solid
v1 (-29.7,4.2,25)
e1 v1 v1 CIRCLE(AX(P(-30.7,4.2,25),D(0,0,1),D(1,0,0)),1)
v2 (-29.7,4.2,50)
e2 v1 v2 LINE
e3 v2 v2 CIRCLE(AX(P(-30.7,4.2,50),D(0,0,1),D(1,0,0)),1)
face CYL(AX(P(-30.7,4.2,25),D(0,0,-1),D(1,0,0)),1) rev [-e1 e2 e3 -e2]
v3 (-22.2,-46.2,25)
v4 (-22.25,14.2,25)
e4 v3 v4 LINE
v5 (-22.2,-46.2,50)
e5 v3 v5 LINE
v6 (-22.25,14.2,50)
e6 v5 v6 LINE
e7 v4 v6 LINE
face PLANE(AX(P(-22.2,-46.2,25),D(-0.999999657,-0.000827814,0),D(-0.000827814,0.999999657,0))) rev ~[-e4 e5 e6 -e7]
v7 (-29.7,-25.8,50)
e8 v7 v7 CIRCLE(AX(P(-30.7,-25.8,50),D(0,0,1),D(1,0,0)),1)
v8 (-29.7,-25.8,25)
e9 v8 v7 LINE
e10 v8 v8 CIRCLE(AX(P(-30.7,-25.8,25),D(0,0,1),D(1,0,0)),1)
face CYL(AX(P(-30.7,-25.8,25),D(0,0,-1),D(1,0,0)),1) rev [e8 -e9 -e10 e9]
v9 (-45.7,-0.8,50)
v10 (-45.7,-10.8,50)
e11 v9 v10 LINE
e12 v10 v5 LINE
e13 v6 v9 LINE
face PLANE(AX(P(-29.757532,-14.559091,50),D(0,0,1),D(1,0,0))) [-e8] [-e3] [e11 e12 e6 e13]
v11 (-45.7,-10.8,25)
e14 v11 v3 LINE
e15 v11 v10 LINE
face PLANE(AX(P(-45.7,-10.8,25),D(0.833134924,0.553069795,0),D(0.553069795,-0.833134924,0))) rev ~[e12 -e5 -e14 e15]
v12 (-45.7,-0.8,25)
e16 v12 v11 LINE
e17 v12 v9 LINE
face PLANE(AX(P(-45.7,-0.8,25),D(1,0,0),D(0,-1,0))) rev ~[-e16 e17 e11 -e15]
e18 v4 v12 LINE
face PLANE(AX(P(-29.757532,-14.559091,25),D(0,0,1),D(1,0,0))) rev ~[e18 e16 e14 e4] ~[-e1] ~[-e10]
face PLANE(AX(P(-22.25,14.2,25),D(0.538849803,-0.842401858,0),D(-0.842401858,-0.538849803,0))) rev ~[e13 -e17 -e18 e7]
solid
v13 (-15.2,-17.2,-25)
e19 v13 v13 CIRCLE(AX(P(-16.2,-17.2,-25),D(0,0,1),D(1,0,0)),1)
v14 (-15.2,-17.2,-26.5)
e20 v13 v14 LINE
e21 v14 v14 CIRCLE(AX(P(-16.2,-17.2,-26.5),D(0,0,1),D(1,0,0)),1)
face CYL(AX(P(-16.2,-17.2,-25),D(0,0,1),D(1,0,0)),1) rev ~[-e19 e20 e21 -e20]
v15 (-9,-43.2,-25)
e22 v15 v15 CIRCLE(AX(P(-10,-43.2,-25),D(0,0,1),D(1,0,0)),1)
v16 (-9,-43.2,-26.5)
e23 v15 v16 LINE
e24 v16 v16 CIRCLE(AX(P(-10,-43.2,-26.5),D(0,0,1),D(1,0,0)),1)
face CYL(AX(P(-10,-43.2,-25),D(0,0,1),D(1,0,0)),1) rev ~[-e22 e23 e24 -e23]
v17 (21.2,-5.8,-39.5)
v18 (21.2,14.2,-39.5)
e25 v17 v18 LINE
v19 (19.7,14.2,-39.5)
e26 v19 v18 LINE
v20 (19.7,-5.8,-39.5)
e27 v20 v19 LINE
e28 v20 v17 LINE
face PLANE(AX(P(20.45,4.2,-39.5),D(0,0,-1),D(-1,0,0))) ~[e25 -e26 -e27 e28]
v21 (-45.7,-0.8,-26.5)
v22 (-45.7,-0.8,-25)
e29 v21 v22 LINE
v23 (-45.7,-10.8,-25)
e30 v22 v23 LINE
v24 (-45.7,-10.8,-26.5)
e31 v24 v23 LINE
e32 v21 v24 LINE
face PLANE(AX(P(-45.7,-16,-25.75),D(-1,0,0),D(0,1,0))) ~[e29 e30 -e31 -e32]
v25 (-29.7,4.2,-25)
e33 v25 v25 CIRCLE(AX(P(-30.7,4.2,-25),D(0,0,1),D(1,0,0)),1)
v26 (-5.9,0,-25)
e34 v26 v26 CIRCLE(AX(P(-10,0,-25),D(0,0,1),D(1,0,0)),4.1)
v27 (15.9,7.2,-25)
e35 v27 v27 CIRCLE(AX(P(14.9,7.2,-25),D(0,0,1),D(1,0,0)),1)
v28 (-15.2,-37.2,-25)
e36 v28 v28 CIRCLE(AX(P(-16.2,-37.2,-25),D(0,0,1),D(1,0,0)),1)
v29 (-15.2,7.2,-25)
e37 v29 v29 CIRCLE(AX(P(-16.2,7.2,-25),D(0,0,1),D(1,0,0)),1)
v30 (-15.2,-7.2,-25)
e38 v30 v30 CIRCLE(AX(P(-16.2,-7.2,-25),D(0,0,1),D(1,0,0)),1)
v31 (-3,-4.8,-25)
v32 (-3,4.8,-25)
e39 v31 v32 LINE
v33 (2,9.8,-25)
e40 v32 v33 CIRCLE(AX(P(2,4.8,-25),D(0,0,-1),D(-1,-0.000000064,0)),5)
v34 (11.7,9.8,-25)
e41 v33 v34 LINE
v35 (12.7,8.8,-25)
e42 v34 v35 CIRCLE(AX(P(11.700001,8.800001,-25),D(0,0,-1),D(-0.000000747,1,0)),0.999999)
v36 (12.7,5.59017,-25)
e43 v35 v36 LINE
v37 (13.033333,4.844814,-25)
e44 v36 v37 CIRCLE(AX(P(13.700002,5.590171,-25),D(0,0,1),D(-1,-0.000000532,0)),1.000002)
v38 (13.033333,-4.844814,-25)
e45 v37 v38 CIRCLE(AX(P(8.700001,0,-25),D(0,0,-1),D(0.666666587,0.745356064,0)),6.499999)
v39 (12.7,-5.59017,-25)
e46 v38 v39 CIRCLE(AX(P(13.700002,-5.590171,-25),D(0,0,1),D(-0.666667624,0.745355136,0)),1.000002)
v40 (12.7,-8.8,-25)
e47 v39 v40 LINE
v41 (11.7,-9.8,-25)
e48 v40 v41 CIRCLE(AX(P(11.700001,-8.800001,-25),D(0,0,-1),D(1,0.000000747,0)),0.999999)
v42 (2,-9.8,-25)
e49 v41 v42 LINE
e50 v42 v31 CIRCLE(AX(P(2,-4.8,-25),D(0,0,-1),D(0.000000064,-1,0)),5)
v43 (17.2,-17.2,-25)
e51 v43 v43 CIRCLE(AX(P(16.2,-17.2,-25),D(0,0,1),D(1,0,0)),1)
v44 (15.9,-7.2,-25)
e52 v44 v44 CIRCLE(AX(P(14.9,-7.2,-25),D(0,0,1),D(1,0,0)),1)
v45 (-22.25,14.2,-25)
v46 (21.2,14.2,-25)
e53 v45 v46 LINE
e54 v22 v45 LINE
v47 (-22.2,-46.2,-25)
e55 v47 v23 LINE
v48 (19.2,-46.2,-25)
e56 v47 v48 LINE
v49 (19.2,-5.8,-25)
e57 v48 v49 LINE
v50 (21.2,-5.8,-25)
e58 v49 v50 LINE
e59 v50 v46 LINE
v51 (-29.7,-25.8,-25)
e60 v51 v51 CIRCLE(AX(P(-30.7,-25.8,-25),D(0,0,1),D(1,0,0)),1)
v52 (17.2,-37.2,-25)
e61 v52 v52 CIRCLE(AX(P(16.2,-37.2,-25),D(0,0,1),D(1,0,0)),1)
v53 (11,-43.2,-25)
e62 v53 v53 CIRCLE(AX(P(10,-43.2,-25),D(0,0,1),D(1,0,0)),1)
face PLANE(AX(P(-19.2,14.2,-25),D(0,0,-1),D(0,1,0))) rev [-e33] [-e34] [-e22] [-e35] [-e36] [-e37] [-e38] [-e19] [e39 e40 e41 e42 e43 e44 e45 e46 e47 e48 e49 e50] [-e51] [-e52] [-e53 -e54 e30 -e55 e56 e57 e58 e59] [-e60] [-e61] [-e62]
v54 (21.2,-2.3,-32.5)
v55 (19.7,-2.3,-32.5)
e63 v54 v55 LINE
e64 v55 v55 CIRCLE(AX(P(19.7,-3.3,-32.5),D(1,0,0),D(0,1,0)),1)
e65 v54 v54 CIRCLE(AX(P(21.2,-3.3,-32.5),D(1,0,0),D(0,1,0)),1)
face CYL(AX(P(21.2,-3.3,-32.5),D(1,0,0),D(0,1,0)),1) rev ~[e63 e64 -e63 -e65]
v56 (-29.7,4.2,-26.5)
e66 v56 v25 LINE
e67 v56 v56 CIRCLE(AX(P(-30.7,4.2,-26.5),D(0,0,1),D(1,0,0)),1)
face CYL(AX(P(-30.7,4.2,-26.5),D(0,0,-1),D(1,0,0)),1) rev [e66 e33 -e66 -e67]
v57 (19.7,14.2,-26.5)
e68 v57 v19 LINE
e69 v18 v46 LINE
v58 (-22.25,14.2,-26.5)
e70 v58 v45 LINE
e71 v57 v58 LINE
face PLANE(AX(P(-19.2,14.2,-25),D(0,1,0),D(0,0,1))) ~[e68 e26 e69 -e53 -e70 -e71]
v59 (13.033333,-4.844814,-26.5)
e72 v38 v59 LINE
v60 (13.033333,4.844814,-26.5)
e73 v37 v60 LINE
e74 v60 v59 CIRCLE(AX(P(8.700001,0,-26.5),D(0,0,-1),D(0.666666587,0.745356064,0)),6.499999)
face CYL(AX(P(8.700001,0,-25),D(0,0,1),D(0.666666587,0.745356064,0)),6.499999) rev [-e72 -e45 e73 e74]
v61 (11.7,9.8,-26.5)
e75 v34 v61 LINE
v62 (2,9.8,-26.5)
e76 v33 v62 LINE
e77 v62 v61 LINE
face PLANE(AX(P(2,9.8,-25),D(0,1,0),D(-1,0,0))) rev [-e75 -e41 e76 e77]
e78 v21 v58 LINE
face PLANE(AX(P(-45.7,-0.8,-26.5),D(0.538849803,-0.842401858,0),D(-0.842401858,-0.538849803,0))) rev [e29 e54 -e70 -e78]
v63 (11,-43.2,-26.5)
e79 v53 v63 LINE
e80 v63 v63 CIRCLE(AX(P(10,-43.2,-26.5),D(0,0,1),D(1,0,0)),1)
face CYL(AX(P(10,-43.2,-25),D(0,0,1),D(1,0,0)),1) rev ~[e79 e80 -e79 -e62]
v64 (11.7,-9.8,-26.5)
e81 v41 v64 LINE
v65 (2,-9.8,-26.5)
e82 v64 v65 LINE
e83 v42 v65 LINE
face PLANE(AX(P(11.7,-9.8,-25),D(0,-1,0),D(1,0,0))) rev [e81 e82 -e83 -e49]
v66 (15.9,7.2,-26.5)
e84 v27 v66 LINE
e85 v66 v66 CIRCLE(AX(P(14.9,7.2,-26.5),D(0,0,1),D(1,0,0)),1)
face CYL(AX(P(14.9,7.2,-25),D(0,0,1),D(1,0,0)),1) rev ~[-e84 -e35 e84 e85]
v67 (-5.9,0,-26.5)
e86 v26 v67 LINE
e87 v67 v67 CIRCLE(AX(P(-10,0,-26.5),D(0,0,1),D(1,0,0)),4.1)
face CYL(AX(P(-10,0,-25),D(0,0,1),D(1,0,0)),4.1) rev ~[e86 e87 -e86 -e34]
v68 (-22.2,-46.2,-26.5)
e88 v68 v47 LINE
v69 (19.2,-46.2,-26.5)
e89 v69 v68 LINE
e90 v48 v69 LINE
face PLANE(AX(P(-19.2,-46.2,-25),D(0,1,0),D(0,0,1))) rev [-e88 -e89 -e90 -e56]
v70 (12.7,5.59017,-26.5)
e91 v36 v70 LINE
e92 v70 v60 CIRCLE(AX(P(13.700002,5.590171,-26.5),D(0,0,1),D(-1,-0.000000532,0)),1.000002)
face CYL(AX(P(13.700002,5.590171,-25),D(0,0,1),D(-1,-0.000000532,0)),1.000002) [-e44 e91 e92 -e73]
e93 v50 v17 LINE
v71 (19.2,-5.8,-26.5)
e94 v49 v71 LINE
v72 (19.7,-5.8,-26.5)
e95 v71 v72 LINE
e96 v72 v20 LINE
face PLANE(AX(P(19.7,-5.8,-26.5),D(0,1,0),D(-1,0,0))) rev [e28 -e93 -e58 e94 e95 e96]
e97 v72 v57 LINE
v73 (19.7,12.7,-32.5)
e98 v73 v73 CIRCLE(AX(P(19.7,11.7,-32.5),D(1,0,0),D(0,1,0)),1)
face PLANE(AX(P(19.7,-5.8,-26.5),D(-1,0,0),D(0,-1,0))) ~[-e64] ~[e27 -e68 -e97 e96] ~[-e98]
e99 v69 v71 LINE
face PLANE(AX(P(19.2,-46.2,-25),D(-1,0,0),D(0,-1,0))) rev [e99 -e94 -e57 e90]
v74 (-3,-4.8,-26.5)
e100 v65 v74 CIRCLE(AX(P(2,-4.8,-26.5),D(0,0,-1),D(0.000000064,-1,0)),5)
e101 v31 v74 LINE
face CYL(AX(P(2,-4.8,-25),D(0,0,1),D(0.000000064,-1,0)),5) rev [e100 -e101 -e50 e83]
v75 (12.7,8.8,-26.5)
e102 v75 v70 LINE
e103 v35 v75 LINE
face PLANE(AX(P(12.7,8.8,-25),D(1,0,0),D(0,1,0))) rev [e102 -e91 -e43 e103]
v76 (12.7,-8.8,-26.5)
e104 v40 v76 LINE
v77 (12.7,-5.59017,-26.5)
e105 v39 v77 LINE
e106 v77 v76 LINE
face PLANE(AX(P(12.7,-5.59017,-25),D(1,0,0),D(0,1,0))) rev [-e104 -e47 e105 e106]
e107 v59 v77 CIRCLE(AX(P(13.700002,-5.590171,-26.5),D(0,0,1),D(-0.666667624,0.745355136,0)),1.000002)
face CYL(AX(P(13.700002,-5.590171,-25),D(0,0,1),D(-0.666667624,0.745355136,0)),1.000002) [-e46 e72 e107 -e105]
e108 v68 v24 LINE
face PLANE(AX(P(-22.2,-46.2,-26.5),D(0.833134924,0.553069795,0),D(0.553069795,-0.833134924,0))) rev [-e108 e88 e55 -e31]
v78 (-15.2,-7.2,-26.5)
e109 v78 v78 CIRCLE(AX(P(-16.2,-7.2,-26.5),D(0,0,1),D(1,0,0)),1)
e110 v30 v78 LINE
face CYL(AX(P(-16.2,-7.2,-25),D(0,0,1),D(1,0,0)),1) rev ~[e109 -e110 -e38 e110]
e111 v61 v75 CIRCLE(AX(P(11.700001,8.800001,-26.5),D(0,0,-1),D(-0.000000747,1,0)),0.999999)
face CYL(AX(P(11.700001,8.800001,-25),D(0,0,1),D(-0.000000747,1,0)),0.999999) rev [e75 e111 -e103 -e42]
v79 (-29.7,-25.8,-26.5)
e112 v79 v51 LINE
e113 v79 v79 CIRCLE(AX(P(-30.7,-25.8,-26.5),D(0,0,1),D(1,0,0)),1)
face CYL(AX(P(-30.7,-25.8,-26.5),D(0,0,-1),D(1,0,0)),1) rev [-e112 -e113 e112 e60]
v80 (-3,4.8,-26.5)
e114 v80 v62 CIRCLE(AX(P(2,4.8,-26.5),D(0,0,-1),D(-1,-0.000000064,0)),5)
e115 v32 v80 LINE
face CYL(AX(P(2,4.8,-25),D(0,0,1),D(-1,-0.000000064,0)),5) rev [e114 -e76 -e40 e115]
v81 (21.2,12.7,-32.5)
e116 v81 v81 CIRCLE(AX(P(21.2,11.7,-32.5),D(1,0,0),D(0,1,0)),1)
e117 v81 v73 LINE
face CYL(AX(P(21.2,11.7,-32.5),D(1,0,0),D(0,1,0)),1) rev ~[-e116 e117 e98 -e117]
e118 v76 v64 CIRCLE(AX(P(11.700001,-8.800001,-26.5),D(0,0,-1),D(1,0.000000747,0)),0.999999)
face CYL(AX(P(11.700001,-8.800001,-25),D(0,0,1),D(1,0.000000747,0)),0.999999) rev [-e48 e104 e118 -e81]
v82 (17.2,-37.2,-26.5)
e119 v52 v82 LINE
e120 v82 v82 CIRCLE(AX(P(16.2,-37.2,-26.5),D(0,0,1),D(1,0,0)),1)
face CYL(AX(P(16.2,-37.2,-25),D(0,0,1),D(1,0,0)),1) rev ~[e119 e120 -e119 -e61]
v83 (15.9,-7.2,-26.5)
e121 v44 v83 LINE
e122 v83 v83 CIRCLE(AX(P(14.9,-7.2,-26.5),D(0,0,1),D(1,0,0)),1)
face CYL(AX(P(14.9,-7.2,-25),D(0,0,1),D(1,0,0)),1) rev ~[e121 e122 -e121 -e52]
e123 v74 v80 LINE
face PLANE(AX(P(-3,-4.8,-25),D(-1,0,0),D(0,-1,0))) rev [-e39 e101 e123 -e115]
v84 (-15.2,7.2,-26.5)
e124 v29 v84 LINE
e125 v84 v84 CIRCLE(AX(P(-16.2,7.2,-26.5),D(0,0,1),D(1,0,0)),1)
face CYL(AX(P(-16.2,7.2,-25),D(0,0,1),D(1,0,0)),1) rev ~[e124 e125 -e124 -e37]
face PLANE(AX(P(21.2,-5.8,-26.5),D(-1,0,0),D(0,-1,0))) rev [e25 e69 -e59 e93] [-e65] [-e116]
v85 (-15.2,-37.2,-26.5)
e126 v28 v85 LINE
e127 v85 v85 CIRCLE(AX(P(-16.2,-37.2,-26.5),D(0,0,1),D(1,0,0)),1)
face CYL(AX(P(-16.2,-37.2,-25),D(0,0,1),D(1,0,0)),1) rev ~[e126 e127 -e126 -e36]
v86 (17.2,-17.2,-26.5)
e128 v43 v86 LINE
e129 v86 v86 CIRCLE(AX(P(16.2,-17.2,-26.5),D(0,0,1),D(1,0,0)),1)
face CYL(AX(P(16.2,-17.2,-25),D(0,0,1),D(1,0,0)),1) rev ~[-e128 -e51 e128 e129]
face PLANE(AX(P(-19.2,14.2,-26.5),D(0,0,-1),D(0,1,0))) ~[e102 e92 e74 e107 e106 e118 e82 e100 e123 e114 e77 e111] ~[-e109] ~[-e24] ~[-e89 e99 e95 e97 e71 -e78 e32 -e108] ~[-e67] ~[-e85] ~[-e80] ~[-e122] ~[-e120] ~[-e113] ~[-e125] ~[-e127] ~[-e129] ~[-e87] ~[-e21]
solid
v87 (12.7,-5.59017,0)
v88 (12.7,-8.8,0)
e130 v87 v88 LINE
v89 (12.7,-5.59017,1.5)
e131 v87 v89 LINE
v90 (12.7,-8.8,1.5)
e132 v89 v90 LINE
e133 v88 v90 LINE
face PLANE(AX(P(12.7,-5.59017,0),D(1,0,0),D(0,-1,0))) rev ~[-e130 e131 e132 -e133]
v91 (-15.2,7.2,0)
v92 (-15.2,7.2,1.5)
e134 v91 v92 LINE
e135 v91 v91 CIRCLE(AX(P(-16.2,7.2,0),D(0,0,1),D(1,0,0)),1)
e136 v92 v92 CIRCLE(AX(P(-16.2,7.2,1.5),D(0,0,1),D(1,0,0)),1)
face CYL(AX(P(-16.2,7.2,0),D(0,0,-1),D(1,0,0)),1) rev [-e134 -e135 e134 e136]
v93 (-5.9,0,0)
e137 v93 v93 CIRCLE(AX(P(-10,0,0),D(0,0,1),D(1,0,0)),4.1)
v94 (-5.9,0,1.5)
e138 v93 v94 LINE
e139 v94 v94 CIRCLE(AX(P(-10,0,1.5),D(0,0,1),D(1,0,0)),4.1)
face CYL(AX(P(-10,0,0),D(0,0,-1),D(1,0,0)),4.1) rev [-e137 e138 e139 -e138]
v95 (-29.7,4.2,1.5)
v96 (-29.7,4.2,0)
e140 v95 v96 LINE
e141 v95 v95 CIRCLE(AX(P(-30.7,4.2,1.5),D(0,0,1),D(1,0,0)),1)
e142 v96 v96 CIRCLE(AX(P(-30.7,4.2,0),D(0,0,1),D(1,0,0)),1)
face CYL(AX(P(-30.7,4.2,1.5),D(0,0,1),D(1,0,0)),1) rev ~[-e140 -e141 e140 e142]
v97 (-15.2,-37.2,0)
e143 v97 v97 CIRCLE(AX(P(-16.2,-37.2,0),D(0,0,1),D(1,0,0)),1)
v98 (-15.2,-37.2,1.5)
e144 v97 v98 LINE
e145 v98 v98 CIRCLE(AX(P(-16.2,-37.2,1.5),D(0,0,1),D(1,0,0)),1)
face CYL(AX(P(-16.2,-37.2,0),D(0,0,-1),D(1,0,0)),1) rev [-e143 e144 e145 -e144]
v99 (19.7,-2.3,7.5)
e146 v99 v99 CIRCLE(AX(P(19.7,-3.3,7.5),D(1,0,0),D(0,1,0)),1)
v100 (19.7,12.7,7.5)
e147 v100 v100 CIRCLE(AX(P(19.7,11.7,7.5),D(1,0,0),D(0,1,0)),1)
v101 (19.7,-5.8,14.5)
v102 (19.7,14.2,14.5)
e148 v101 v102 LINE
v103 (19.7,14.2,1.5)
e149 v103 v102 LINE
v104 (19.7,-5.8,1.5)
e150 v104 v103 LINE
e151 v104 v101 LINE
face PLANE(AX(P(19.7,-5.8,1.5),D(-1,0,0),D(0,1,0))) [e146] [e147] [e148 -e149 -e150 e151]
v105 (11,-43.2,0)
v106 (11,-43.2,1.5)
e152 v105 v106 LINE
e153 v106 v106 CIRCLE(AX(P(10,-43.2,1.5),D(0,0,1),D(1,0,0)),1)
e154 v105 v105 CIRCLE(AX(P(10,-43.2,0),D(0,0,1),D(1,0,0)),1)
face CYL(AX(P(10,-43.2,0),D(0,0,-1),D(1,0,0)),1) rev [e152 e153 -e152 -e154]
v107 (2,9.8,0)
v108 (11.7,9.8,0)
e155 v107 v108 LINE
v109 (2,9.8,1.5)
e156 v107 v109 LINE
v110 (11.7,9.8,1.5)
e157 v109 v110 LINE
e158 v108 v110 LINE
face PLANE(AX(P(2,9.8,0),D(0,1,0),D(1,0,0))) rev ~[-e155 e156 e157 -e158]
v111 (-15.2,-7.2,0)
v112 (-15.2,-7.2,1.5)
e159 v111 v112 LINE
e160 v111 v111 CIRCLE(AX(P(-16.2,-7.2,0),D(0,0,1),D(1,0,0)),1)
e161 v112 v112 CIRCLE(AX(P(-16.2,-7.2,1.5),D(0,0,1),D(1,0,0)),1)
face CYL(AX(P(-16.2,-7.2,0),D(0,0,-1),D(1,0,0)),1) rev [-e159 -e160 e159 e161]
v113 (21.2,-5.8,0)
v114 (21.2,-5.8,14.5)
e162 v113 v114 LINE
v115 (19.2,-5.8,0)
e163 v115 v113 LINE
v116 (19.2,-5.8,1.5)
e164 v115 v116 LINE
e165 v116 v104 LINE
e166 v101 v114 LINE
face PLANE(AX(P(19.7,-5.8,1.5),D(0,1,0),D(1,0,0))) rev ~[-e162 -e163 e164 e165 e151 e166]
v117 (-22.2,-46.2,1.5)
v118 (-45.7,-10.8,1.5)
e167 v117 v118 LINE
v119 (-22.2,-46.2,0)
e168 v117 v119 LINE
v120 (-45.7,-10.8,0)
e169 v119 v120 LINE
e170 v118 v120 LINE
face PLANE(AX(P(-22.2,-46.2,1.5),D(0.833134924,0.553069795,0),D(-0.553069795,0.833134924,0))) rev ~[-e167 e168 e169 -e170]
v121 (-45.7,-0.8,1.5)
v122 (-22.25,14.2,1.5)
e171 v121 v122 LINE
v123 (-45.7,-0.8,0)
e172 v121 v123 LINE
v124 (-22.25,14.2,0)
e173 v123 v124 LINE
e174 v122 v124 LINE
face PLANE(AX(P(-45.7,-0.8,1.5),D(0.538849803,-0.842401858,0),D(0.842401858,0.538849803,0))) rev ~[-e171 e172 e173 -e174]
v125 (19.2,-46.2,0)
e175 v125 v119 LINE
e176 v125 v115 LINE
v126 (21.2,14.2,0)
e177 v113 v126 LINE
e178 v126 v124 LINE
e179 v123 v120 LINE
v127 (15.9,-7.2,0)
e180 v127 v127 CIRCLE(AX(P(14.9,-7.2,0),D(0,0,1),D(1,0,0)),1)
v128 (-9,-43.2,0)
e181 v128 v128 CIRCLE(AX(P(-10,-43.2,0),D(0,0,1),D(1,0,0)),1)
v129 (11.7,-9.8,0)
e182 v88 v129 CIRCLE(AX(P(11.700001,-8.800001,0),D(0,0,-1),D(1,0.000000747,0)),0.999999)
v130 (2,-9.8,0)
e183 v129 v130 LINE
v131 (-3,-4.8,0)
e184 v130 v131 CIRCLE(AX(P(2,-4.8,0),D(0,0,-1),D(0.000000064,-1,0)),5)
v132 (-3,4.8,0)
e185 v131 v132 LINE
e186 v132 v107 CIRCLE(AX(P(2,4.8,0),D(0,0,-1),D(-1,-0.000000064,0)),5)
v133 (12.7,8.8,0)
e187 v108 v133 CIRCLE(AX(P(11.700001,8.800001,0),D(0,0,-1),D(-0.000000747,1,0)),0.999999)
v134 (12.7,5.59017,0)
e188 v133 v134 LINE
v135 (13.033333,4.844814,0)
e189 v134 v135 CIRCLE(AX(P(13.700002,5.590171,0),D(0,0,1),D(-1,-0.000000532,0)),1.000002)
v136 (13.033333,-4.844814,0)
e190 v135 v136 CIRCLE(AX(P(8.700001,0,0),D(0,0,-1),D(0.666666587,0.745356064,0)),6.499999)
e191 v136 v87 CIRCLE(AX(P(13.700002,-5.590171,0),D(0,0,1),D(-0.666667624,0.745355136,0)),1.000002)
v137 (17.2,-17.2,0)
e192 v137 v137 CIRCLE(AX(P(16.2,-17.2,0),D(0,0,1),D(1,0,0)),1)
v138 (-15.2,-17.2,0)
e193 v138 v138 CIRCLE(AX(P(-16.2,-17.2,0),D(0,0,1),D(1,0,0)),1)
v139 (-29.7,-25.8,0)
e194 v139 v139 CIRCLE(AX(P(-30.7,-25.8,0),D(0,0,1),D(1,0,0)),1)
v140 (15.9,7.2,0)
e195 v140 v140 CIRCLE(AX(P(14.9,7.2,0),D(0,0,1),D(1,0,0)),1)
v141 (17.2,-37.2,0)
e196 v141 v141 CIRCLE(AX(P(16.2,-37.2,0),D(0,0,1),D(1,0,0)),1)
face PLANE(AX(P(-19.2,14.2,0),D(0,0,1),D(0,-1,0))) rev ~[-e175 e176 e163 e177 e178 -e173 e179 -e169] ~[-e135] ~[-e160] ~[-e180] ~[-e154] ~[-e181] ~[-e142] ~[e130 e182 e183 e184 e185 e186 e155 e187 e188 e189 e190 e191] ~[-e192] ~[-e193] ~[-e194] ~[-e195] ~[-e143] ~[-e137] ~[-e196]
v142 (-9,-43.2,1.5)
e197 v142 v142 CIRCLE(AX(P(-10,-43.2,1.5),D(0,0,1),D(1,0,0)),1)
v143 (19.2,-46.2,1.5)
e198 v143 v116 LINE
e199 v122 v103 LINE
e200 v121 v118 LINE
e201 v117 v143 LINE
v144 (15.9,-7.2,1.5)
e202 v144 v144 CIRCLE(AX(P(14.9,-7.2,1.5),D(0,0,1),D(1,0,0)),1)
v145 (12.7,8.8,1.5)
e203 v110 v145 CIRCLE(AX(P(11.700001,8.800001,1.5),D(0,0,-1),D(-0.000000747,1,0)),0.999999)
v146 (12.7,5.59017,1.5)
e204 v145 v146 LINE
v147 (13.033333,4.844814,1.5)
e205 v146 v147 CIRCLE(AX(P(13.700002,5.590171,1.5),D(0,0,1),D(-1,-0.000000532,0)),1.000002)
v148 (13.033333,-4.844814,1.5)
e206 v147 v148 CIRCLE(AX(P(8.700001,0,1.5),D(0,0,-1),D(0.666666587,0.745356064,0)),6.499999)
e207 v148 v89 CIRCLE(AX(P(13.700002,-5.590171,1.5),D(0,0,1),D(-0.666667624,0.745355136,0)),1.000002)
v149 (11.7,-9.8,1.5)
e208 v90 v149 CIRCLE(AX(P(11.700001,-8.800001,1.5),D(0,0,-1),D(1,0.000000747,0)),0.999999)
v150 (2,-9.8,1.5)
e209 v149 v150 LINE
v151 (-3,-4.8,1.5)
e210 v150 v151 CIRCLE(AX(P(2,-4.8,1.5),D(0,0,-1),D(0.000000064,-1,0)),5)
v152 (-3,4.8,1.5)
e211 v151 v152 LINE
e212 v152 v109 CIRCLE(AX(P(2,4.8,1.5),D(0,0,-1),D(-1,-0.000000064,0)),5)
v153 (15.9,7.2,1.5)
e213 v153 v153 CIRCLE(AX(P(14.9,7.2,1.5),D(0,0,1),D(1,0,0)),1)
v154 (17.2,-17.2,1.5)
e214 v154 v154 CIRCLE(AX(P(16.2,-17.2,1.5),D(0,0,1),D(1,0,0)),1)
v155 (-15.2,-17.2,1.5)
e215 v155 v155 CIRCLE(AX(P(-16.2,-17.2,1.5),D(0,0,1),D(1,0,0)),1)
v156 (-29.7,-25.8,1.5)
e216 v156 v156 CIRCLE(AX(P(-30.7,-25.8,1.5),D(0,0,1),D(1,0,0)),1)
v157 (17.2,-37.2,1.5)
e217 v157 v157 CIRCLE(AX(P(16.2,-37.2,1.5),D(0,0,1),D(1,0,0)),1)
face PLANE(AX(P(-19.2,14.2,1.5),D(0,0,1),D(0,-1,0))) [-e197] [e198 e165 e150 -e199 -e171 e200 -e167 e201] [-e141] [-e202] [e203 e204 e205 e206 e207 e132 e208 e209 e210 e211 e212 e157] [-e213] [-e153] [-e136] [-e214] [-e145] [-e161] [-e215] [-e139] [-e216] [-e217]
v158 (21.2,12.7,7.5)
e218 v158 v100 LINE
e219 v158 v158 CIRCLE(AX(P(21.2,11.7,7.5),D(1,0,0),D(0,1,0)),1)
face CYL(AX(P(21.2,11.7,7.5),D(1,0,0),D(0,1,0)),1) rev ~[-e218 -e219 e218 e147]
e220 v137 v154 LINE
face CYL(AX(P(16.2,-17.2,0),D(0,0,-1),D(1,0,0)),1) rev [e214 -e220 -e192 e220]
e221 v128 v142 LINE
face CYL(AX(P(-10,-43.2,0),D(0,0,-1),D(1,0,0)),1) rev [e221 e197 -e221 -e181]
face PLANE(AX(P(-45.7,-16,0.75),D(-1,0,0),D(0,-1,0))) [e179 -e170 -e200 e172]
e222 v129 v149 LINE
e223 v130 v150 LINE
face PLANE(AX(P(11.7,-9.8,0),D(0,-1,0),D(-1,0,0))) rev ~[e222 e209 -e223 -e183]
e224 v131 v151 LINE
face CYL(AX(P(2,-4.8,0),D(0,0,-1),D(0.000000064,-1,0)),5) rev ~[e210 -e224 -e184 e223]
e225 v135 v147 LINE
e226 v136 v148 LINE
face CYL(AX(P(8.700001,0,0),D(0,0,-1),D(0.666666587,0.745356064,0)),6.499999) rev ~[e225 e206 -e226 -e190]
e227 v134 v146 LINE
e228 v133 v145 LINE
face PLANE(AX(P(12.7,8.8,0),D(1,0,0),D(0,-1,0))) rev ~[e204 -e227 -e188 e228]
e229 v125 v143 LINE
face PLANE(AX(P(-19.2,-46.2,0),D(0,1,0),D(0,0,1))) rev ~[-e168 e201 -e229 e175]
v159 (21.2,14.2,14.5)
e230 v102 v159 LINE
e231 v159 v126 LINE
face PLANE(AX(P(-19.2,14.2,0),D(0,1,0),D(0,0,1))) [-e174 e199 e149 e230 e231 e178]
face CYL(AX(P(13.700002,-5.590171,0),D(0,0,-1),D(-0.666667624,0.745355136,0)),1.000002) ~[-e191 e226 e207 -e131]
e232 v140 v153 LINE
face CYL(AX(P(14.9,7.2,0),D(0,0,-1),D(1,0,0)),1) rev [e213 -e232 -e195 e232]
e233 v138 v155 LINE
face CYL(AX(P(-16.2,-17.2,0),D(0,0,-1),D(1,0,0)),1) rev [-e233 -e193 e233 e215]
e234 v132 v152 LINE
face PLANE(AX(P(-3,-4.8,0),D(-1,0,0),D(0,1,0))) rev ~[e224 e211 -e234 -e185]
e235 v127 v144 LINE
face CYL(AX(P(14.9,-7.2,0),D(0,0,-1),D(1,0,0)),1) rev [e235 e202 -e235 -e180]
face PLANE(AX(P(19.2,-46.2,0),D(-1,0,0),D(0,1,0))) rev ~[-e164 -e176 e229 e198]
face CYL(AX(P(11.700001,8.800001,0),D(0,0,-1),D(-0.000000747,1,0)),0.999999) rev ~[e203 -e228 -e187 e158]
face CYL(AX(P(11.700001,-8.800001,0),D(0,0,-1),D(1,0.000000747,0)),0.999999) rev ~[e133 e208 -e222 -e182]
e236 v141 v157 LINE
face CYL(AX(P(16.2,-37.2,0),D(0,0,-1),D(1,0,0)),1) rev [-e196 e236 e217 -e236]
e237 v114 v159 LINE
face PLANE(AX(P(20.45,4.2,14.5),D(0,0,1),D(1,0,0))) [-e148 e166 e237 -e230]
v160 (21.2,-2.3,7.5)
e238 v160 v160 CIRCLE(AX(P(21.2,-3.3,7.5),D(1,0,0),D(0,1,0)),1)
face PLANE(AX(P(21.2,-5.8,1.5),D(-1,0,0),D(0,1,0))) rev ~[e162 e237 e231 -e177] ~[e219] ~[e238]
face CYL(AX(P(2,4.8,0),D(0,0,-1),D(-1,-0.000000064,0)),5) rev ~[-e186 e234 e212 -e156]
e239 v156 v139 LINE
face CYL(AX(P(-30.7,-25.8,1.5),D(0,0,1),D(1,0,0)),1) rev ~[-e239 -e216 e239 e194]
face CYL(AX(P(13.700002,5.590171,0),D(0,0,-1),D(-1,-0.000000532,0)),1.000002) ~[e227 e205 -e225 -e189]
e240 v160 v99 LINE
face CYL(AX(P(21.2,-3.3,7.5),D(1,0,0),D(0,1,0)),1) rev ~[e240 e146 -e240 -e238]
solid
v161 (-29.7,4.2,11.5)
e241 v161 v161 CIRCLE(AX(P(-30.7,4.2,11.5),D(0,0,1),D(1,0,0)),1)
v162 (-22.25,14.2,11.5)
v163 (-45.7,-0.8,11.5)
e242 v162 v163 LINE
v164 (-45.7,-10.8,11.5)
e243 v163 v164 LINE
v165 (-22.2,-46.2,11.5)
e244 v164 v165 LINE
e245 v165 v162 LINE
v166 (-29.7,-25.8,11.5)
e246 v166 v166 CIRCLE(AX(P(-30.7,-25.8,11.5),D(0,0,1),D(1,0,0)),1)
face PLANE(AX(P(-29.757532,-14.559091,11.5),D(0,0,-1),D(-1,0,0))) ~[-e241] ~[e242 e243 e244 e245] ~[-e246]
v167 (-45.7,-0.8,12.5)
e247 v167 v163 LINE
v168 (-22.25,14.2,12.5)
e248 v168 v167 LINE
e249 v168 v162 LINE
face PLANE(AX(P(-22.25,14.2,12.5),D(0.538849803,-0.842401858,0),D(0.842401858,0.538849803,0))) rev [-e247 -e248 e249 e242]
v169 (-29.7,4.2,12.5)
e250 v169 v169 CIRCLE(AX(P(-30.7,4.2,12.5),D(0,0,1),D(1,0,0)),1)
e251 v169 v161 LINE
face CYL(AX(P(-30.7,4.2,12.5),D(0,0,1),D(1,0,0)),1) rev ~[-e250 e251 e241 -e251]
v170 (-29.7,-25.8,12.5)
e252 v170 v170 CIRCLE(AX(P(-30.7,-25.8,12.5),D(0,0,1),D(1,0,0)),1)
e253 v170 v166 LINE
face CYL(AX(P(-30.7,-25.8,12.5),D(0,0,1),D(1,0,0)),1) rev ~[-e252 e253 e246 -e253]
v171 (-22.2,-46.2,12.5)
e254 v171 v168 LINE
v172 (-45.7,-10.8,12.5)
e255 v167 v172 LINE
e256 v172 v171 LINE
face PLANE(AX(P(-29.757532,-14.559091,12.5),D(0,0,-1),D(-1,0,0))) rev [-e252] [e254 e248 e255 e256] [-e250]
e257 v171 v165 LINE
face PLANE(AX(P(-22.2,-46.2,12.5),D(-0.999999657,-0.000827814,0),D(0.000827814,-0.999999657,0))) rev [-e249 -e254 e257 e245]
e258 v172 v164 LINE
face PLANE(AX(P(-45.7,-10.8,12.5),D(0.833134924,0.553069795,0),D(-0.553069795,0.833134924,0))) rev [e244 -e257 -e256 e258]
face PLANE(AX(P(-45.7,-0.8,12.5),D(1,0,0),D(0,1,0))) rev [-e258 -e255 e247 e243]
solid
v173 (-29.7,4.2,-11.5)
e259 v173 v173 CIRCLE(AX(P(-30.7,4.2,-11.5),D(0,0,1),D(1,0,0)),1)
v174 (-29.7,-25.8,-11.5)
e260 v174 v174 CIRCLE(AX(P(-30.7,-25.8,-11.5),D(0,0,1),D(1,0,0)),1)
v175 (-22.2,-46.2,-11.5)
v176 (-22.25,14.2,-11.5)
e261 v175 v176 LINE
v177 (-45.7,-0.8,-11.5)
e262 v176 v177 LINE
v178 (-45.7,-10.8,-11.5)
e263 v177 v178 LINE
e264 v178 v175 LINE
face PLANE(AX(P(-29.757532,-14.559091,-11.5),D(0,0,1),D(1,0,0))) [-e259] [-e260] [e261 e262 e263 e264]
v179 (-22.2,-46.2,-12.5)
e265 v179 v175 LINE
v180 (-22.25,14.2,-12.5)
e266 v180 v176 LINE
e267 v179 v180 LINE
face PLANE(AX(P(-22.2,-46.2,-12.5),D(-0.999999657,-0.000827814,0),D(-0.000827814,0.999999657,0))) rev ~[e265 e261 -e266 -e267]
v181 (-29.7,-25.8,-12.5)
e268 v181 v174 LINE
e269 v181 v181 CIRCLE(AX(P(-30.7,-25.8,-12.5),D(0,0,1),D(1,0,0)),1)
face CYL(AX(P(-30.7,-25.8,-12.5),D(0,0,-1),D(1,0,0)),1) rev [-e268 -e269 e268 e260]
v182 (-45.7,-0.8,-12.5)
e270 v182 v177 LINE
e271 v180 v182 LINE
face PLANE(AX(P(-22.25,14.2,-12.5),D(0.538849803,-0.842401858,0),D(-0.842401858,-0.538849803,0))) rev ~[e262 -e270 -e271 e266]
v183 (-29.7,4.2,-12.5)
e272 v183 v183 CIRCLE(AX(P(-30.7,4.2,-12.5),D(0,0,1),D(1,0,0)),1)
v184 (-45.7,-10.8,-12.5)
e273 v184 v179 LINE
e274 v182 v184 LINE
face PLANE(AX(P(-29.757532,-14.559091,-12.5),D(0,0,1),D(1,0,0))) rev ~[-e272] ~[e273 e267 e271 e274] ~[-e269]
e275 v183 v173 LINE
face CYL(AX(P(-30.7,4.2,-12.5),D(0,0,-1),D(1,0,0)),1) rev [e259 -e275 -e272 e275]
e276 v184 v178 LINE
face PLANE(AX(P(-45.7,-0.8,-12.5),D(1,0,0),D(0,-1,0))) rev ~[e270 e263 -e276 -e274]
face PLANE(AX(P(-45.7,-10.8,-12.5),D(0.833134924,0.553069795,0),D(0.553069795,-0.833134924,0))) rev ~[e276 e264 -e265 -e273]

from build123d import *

# Parameters (mm, degrees)
F0_R      = 1
F0_R_2    = 4.1
F1_DEPTH  = 1.5
F2_W      = 20
F2_H      = 1.5
F3_DEPTH  = 2
F4_W      = 1.5
F4_H      = 20
F5_DEPTH  = 13
F8_R      = 1
F9_DEPTH  = 1.5
F10_W     = 60.4
F10_H     = 1.5
F11_DEPTH = 26.5
F12_R     = 1
F13_DEPTH = 1.5
F16_R     = 1
F17_DEPTH = 25
F18_R     = 1
F19_DEPTH = 1


with BuildPart() as f1:
    # F0 (on Top) → F1 (new body)
    with BuildSketch(Plane.XY):
        Polygon((19.2, -14.2), (19.2, 14.2), (-19.2, 14.2), (-19.2, -14.2), (-19.2, -46.2), (19.2, -46.2), align=None)
        with Locations((-10, -43.2)):
            Circle(F0_R, mode=Mode.SUBTRACT)
        with Locations((-16.2, -37.2)):
            Circle(F0_R, mode=Mode.SUBTRACT)
        with Locations((-16.2, -17.2)):
            Circle(F0_R, mode=Mode.SUBTRACT)
        with Locations((10, -43.2)):
            Circle(F0_R, mode=Mode.SUBTRACT)
        with Locations((16.2, -37.2)):
            Circle(F0_R, mode=Mode.SUBTRACT)
        with Locations((16.2, -17.2)):
            Circle(F0_R, mode=Mode.SUBTRACT)
        with Locations((-16.2, -7.2)):
            Circle(F0_R, mode=Mode.SUBTRACT)
        with Locations((-10, 0)):
            Circle(F0_R_2, mode=Mode.SUBTRACT)
        with Locations((-16.2, 7.2)):
            Circle(F0_R, mode=Mode.SUBTRACT)
        with Locations((14.9, -7.2)):
            Circle(F0_R, mode=Mode.SUBTRACT)
        with BuildLine():
            ThreePointArc((-3, 4.8), (-1.535534, 8.335534), (2, 9.8))
            Line((2, 9.8), (11.7, 9.8))
            ThreePointArc((11.7, 9.8), (12.407107, 9.507107), (12.7, 8.8))
            Line((12.7, 8.8), (12.7, 5.59017))
            ThreePointArc((12.7, 5.59017), (12.787129, 5.181922), (13.033333, 4.844814))
            ThreePointArc((13.033333, 4.844814), (15.2, 0), (13.033333, -4.844814))
            ThreePointArc((13.033333, -4.844814), (12.787129, -5.181922), (12.7, -5.59017))
            Line((12.7, -5.59017), (12.7, -8.8))
            ThreePointArc((12.7, -8.8), (12.407107, -9.507107), (11.7, -9.8))
            Line((11.7, -9.8), (2, -9.8))
            ThreePointArc((2, -9.8), (-1.535534, -8.335534), (-3, -4.8))
            Line((-3, -4.8), (-3, 4.8))
        make_face(mode=Mode.SUBTRACT)
        with Locations((14.9, 7.2)):
            Circle(F0_R, mode=Mode.SUBTRACT)
    extrude(amount=F1_DEPTH)

    # F2 (on face) → F3 (join)
    with BuildSketch(Plane.YZ.offset(19.2)):
        with Locations((4.2, 0.75)):
            Rectangle(F2_W, F2_H)
    extrude(amount=F3_DEPTH)

    # F4 (on face) → F5 (join)
    with BuildSketch(Plane.XY.offset(1.5)):
        with Locations((20.45, 4.2)):
            Rectangle(F4_W, F4_H)
    extrude(amount=F5_DEPTH)


with BuildPart() as f7_1:
    # F7: instance of F1
    add(f1.part.mirror(Plane.XY.offset(-12.5)))


with BuildPart() as f9_tool:
    # F8 (on face) → F9 (new body, through all)
    with BuildSketch(Plane.YZ.offset(21.2)):
        with Locations((11.7, 7.5)):
            Circle(F8_R)
        with Locations((-3.3, 7.5)):
            Circle(F8_R)
        with Locations((11.7, -32.5)):
            Circle(F8_R)
        with Locations((-3.3, -32.5)):
            Circle(F8_R)
    extrude(amount=-F9_DEPTH)


with BuildPart() as f1_1:
    add(f1.part)

    # F9: cut by f9_tool
    add(f9_tool.part, mode=Mode.SUBTRACT)

    # F10 (on face) → F11 (join)
    with BuildSketch(Plane(origin=(-19.2, 0, 0), x_dir=(0, -1, 0), z_dir=(-1, 0, 0))):
        with Locations((16, 0.75)):
            Rectangle(F10_W, F10_H)
    extrude(amount=F11_DEPTH)

    # F12 (on face) → F13 (cut, through all)
    with BuildSketch(Plane.XY.offset(1.5)):
        Polygon((-22.2, -46.2), (-45.7, -10.8), (-45.7, -46.2), align=None)
        Polygon((-45.7, -0.8), (-22.25, 14.2), (-45.7, 14.2), align=None)
        with Locations((-30.7, 4.2)):
            Circle(F12_R)
        with Locations((-30.7, -25.8)):
            Circle(F12_R)
    extrude(amount=-F13_DEPTH, mode=Mode.SUBTRACT)


with BuildPart() as f7_1_1:
    add(f7_1.part)

    # F9: cut by f9_tool
    add(f9_tool.part, mode=Mode.SUBTRACT)

    # F14: F1 across plane
    add(f1_1.part.mirror(Plane.XY.offset(-12.5)))


with BuildPart() as f17:
    # F16 (on offset) → F17 (new body)
    with BuildSketch(Plane.XY.offset(25)):
        Polygon((-22.2, -46.2), (-22.25, 14.2), (-45.7, -0.8), (-45.7, -10.8), align=None)
        with Locations((-30.7, -25.8)):
            Circle(F16_R, mode=Mode.SUBTRACT)
        with Locations((-30.7, 4.2)):
            Circle(F16_R, mode=Mode.SUBTRACT)
    extrude(amount=F17_DEPTH)


with BuildPart() as f19:
    # F18 (on offset) → F19 (new body)
    with BuildSketch(Plane.XY.offset(-12.5)):
        Polygon((-22.2, -46.2), (-22.25, 14.2), (-45.7, -0.8), (-45.7, -10.8), align=None)
        with Locations((-30.7, -25.8)):
            Circle(F18_R, mode=Mode.SUBTRACT)
        with Locations((-30.7, 4.2)):
            Circle(F18_R, mode=Mode.SUBTRACT)
    extrude(amount=F19_DEPTH)


with BuildPart() as f20_1:
    # F20: instance of F19
    add(f19.part.mirror(Plane.XY))


solid = Compound([f1_1.part, f7_1_1.part, f17.part, f19.part, f20_1.part])
